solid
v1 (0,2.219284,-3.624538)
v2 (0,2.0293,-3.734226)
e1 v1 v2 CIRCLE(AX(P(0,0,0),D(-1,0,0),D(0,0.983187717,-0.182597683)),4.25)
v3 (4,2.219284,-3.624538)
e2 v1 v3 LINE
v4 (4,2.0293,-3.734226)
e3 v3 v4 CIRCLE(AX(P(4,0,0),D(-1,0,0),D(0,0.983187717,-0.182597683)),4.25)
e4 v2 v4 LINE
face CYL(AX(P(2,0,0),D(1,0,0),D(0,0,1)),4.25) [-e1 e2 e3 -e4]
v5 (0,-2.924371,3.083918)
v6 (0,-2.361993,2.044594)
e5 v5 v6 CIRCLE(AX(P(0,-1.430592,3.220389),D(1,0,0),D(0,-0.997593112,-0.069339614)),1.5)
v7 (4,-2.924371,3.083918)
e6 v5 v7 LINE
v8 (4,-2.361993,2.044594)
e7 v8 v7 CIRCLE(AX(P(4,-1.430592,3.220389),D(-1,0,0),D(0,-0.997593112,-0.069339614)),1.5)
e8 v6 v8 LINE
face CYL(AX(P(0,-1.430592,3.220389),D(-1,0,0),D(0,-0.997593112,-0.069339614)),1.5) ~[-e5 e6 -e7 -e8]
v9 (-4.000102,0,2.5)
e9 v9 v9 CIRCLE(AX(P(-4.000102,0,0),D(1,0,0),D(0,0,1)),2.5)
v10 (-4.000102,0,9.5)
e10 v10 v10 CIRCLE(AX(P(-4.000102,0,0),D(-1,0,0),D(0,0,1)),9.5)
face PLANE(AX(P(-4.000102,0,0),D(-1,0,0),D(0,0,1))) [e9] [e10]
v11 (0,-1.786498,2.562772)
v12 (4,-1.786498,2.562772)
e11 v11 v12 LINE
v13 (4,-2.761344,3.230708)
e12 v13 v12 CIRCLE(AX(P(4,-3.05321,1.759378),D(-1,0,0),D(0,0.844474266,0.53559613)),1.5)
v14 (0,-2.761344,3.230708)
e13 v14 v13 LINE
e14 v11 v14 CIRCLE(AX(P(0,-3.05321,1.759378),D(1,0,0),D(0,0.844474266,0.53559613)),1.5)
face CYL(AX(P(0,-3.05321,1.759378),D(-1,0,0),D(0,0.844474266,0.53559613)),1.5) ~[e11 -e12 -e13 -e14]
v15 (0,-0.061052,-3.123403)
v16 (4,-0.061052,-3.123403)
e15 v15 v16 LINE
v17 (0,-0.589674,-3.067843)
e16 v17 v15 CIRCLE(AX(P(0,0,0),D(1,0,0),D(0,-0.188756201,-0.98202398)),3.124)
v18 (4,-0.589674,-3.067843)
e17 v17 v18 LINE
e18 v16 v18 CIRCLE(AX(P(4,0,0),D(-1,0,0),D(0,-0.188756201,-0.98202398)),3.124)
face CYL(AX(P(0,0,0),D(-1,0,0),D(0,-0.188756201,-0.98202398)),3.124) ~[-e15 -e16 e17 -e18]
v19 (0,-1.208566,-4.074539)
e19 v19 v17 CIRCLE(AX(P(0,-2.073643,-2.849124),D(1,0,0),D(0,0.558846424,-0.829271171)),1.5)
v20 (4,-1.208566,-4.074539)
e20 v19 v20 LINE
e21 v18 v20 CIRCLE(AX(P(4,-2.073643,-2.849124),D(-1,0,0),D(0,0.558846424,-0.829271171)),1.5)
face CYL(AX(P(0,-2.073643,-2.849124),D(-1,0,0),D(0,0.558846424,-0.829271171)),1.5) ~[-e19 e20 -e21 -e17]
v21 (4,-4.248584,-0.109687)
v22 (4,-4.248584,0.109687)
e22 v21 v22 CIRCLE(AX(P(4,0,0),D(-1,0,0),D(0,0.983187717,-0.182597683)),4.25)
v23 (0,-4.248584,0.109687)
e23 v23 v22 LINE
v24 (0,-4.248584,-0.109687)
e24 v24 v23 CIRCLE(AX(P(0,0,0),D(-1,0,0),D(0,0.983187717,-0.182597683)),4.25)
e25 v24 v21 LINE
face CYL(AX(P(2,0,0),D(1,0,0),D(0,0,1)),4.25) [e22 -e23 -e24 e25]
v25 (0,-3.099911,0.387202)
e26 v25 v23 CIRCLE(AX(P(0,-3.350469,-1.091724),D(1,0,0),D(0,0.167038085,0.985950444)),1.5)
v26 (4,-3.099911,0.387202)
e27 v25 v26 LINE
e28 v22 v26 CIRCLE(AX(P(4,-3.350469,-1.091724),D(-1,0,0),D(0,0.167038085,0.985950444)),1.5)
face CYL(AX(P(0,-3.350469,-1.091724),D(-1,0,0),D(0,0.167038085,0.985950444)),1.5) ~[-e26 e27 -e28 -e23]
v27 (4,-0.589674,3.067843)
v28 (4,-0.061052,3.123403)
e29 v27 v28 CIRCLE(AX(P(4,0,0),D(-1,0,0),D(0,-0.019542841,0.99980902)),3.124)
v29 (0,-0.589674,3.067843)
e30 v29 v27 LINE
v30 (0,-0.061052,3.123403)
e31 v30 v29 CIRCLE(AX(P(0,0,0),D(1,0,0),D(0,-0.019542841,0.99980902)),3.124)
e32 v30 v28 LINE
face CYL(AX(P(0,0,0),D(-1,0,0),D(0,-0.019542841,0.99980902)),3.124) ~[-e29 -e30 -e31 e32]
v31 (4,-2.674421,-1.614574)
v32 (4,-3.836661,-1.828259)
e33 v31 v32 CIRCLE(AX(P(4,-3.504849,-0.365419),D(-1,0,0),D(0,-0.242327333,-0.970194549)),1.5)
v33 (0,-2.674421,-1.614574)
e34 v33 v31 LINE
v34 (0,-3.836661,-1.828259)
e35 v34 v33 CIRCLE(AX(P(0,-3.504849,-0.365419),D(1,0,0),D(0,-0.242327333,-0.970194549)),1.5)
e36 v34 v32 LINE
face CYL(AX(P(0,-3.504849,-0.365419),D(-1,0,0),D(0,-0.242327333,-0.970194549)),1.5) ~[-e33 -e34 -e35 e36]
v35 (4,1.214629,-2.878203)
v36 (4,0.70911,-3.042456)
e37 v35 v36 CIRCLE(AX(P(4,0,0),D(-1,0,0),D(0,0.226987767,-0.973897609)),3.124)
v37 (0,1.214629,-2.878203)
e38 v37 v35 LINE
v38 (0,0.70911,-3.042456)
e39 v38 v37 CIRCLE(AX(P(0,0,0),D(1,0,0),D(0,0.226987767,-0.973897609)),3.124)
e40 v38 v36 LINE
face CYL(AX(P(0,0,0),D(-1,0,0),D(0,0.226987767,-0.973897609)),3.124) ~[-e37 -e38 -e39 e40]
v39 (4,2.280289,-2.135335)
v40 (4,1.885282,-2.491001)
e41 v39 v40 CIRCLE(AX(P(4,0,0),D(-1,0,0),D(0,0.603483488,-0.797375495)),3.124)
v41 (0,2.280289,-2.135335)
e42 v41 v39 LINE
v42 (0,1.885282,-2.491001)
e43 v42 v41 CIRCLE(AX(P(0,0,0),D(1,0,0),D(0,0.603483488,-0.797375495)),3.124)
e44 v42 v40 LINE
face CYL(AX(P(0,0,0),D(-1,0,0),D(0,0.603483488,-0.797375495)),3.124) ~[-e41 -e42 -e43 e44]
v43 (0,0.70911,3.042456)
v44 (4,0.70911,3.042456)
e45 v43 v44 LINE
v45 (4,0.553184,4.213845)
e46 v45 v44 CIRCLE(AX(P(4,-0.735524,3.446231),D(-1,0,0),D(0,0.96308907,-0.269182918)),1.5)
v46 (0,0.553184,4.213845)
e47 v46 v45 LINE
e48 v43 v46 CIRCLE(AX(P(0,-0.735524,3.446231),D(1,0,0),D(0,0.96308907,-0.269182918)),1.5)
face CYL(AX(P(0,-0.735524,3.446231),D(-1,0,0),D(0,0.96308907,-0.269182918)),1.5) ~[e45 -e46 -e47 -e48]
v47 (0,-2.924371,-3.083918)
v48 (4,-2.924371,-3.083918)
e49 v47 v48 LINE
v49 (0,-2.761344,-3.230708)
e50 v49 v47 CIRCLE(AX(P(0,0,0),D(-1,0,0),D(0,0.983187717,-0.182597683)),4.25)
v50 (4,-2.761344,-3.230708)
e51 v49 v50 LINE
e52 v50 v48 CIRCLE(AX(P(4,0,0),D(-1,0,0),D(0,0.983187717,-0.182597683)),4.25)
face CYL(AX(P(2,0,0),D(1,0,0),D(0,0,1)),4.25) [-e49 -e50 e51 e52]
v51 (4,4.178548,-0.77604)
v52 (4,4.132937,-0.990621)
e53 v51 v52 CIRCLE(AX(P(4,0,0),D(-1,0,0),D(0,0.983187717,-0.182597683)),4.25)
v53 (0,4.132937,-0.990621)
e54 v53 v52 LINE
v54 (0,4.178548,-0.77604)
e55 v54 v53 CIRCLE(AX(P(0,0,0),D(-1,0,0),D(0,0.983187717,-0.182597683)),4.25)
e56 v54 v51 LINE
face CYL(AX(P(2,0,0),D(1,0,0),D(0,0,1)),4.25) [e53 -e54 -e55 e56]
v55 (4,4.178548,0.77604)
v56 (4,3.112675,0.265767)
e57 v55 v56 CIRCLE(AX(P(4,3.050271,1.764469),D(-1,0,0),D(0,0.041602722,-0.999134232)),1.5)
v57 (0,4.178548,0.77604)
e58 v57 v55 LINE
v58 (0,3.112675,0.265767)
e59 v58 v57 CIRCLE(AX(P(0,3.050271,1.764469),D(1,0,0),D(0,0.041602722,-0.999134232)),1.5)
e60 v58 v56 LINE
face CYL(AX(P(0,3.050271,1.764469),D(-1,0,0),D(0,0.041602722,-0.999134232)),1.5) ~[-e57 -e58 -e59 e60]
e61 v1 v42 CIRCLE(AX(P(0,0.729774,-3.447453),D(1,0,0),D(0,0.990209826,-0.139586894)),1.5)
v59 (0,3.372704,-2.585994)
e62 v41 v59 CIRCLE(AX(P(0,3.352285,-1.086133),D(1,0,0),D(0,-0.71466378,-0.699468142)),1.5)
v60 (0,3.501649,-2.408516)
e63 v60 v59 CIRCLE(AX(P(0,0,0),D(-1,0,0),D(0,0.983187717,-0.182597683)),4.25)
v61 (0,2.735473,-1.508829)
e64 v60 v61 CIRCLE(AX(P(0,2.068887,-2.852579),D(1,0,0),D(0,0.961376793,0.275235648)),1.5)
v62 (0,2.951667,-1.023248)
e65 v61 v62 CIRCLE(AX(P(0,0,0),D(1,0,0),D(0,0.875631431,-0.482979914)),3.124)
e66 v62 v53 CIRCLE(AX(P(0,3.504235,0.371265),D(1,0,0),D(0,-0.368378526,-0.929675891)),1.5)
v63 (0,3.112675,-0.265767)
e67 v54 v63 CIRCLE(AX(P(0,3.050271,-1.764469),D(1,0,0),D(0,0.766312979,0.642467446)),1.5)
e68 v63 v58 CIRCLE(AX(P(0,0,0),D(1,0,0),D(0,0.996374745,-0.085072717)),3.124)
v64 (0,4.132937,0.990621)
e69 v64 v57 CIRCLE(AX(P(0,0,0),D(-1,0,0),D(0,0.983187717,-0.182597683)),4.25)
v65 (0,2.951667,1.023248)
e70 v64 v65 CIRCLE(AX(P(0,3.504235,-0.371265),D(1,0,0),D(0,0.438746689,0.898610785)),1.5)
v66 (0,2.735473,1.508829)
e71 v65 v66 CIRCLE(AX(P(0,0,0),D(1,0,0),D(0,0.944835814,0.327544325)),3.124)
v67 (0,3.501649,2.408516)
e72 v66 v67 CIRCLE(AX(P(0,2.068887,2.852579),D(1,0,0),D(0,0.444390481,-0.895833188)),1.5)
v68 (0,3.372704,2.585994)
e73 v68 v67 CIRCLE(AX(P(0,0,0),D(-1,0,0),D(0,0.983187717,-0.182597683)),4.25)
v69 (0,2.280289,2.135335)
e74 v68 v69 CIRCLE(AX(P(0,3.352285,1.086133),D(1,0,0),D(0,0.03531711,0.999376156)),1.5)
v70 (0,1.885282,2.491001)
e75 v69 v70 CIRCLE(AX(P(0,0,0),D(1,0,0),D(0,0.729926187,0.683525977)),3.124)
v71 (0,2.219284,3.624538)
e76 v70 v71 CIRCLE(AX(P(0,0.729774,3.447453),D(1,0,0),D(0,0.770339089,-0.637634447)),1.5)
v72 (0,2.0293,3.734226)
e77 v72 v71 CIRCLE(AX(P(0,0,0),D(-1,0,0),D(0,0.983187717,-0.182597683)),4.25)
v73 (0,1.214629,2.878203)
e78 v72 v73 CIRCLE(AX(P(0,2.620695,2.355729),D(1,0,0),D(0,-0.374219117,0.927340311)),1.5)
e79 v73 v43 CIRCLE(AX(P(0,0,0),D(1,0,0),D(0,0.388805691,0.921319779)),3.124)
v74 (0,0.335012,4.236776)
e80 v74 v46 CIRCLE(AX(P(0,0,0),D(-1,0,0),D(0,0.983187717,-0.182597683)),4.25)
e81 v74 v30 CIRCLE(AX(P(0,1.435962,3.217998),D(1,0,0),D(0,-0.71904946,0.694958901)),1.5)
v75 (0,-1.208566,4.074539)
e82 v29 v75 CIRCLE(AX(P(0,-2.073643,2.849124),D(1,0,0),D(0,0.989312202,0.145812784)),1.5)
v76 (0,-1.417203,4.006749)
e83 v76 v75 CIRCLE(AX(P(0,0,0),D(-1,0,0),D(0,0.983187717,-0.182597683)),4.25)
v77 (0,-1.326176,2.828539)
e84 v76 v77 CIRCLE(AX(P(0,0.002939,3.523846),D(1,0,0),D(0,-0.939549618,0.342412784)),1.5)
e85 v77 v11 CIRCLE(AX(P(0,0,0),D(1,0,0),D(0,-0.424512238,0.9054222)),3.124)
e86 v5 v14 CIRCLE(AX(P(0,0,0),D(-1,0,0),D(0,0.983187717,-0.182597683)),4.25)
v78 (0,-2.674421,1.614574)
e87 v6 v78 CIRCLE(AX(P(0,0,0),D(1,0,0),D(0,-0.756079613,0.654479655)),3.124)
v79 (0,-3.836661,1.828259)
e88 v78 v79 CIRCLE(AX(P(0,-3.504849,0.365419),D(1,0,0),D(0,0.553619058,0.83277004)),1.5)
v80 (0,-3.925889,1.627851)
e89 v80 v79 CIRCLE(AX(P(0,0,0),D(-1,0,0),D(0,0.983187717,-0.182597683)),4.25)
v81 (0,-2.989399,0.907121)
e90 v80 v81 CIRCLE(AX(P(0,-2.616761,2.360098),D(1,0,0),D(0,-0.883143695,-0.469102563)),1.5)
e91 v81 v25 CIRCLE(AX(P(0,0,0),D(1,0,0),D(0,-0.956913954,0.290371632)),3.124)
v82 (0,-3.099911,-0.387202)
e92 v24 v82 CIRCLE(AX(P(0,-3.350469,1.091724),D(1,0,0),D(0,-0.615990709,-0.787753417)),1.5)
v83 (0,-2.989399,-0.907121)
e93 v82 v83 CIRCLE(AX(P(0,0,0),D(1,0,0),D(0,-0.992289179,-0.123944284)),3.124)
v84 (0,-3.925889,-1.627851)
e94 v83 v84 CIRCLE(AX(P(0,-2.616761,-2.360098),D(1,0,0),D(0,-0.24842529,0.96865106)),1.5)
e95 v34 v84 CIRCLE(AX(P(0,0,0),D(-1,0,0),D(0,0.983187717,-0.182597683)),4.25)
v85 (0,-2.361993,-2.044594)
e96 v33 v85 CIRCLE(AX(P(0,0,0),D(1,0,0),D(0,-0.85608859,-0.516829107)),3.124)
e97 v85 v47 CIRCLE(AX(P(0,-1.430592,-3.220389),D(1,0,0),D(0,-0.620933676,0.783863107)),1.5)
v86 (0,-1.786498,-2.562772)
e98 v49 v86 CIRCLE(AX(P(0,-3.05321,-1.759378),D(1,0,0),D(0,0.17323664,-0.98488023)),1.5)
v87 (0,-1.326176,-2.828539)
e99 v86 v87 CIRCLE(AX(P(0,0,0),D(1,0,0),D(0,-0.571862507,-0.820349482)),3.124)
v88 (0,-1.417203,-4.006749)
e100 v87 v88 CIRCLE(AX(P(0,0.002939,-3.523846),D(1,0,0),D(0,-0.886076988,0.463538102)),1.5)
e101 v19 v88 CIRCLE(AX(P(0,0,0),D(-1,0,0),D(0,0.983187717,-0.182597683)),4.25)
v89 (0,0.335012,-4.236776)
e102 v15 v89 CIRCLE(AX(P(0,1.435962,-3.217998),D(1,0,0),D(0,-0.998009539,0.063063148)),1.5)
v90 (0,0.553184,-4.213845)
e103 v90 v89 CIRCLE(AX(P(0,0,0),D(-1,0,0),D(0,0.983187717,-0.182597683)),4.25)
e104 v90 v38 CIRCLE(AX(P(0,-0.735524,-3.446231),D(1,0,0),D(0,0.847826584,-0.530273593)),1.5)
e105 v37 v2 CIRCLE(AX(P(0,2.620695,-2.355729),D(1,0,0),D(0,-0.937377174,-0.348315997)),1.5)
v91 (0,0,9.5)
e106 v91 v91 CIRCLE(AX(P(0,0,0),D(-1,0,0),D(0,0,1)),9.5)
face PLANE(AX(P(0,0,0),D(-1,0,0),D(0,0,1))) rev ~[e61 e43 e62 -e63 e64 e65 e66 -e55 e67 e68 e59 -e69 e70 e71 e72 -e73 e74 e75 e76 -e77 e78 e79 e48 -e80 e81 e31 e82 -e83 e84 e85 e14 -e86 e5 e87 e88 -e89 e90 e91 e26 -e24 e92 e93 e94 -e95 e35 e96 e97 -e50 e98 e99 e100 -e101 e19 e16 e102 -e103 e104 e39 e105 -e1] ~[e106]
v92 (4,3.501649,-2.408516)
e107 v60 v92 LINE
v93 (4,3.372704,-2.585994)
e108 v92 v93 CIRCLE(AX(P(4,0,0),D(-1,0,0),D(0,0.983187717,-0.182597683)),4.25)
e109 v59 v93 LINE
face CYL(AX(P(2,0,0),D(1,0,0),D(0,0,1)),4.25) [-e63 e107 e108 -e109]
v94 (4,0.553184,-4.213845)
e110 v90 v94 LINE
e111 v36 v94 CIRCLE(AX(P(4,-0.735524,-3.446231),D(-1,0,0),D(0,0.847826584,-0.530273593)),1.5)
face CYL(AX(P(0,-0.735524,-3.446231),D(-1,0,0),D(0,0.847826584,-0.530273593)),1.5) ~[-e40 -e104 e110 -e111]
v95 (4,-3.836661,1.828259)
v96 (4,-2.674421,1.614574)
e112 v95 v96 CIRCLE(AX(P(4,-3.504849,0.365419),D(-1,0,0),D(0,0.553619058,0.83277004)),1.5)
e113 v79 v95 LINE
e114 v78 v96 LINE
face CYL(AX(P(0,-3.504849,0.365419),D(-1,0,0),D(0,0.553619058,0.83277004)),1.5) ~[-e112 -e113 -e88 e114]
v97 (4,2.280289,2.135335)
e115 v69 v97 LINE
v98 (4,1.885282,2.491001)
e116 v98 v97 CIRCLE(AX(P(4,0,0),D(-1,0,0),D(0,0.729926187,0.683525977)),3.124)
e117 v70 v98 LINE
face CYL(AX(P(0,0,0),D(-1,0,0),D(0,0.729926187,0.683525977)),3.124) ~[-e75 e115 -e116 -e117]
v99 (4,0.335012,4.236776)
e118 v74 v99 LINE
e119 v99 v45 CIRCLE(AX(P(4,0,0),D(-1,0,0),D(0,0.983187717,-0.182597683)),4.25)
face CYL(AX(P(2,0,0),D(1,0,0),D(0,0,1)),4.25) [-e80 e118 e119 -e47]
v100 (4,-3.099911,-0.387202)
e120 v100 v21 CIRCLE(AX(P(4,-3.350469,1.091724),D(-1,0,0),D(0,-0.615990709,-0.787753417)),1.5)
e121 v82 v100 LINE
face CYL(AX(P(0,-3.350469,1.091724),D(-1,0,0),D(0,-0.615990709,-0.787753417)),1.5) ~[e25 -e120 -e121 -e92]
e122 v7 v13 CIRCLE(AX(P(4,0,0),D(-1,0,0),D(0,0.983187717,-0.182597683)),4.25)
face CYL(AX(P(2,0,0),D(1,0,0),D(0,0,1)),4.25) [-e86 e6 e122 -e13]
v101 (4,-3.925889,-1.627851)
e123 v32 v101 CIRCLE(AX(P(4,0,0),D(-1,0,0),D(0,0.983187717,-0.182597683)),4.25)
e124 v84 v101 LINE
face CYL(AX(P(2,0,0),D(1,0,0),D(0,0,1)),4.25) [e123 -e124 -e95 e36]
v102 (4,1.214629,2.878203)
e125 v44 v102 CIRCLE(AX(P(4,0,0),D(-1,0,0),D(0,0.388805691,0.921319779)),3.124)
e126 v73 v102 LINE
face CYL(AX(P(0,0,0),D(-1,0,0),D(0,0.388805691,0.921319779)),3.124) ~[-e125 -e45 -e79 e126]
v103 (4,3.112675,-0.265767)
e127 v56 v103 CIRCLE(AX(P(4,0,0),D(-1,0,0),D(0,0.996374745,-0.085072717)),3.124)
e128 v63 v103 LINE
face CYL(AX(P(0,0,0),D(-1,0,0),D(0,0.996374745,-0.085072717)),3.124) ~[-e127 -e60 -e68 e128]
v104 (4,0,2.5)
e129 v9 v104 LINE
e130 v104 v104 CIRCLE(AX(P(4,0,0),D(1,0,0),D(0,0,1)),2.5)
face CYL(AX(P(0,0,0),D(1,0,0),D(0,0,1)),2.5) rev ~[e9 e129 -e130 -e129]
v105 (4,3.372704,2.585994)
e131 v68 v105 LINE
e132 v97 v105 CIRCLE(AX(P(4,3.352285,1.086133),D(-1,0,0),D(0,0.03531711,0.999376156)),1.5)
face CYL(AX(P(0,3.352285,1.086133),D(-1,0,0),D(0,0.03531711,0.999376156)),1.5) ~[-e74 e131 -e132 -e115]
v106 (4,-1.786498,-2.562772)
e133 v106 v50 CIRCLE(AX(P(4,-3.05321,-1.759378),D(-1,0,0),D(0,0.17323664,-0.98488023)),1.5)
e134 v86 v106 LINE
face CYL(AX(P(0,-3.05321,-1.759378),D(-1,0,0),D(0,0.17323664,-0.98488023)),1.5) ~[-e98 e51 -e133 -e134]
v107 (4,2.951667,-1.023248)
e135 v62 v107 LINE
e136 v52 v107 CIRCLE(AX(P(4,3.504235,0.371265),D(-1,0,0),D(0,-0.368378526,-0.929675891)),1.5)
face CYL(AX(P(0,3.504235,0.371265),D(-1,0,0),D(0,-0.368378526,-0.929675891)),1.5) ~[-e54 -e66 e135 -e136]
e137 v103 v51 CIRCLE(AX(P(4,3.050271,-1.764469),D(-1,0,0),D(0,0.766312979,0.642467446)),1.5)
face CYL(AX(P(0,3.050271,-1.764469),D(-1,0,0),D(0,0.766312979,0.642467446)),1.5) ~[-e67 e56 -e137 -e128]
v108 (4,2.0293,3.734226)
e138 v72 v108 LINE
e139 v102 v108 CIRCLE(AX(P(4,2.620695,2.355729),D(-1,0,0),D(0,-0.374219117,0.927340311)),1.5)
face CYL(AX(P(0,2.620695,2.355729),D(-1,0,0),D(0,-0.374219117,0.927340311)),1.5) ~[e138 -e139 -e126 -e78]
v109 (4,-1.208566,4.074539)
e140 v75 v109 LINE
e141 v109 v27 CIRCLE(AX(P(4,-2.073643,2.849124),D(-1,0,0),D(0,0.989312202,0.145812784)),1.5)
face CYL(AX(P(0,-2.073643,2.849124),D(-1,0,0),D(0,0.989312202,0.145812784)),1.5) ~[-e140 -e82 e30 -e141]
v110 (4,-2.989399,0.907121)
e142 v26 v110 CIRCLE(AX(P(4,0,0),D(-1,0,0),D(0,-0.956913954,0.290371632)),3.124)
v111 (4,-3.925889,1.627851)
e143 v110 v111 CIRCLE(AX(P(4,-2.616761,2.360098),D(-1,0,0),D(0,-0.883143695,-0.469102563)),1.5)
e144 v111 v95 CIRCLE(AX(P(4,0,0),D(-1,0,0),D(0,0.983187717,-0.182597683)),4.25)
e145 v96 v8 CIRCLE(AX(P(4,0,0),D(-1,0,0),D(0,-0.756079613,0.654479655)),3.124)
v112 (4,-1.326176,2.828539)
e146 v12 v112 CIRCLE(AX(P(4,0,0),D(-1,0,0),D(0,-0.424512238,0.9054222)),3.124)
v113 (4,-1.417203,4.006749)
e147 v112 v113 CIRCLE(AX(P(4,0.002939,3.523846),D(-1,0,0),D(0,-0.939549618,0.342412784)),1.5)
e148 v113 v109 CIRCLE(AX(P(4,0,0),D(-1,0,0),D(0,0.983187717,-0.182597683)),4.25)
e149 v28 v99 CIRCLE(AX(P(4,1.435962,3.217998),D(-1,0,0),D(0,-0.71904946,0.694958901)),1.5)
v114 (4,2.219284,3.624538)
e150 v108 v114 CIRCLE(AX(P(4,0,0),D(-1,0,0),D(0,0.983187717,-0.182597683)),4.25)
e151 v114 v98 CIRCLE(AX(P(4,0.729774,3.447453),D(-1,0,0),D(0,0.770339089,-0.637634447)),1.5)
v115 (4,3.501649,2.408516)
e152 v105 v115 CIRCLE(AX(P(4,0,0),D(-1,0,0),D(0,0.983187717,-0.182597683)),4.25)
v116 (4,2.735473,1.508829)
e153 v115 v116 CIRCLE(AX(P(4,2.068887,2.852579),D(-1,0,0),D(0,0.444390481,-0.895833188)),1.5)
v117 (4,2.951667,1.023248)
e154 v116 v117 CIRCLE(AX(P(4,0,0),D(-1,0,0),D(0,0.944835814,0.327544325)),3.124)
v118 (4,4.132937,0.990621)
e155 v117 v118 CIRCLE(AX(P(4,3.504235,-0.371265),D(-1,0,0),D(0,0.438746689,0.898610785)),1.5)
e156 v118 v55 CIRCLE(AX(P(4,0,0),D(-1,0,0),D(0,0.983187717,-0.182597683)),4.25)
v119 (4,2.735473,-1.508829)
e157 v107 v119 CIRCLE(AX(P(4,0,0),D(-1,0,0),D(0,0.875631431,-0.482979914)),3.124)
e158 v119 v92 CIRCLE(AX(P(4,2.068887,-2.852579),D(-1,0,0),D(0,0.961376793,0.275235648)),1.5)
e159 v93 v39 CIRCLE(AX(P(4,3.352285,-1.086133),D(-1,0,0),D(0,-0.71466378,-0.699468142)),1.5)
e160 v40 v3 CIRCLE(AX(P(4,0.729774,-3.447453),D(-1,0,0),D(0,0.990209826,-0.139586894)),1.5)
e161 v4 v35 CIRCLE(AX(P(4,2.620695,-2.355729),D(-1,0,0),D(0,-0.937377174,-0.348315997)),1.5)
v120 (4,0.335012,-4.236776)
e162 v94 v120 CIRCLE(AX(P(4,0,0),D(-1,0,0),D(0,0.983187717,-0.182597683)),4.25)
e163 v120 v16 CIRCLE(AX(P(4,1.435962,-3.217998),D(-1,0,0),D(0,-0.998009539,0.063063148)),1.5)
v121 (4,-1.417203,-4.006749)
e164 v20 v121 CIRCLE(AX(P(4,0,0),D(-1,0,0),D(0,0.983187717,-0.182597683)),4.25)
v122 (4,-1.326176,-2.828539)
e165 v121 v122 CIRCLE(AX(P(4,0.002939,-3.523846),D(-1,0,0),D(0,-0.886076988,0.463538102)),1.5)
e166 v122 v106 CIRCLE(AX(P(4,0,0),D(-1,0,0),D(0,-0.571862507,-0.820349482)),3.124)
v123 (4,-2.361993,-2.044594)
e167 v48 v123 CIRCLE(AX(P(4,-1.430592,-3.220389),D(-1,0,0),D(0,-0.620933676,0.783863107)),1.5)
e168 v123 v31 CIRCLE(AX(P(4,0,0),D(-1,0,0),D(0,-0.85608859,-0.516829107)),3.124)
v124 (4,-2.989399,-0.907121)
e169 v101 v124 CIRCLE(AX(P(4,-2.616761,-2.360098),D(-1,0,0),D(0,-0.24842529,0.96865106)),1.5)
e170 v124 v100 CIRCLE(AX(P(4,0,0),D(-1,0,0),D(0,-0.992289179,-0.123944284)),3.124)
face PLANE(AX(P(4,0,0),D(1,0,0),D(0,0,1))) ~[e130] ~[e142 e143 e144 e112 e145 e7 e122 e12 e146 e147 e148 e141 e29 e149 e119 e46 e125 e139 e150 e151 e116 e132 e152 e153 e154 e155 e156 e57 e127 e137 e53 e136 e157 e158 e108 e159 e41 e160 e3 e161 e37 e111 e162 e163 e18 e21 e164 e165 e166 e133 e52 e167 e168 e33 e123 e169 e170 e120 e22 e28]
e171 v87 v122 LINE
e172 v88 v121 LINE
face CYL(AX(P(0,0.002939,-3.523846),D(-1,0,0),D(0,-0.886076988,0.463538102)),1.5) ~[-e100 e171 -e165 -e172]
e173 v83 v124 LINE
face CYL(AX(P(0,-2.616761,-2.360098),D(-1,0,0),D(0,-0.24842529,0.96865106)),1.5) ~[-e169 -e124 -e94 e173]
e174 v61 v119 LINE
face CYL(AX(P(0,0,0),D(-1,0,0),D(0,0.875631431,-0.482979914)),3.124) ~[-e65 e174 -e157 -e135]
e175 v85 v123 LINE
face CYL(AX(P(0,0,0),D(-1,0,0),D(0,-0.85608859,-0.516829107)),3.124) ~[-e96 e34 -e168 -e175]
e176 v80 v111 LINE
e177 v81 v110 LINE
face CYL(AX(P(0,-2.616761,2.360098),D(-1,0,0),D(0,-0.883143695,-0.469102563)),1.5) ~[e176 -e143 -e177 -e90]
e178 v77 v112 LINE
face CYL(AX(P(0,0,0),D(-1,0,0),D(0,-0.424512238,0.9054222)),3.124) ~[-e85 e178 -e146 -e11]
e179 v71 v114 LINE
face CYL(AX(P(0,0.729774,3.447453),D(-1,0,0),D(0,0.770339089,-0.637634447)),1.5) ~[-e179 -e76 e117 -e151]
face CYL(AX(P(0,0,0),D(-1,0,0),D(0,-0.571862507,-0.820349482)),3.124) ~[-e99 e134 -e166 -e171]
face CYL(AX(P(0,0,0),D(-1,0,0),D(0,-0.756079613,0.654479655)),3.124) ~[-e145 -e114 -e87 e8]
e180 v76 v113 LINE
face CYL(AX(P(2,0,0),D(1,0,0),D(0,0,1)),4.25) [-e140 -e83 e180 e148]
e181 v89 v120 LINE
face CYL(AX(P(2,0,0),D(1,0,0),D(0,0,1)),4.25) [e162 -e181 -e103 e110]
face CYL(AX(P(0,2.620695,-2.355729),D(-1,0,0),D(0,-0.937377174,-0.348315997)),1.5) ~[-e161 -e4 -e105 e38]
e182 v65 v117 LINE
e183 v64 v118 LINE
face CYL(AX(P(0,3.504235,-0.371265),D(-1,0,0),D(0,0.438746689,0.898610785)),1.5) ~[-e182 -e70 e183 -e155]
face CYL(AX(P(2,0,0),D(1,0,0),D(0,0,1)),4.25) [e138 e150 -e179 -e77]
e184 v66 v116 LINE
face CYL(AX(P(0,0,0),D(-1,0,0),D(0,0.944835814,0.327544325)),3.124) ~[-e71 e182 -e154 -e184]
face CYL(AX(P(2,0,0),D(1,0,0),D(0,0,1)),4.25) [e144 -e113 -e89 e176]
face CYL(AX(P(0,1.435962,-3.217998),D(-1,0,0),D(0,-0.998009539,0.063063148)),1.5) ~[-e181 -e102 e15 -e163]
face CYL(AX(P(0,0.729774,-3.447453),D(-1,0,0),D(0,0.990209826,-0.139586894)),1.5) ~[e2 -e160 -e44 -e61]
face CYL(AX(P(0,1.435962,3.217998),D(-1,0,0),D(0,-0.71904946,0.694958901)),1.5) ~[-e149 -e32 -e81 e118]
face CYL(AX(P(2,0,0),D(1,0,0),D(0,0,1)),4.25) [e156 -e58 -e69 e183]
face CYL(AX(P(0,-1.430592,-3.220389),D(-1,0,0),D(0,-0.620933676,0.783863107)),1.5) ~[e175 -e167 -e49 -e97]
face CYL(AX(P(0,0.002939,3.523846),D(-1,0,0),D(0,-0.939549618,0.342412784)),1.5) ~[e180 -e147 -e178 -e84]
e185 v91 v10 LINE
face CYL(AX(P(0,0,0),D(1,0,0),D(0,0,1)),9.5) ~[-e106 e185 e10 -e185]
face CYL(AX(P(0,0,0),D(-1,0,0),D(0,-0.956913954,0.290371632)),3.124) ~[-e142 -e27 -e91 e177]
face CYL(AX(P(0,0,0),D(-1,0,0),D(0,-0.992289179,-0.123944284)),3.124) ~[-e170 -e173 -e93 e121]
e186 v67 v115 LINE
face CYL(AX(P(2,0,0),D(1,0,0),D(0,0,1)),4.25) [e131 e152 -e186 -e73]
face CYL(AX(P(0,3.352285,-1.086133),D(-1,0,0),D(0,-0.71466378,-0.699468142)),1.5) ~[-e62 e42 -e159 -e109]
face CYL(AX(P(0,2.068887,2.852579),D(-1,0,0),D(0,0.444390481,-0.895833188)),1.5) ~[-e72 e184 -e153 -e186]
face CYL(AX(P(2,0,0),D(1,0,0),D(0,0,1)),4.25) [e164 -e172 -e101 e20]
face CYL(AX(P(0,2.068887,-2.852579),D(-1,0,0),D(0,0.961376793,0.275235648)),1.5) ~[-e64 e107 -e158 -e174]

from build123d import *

# Parameters (mm, degrees)
BASPROSKE_W      = 4
BASPROSKE_H      = 4.25
TOOTHCUT_DEPTH   = 8.219764539
TEETHCUTS_COUNT  = 15
TEETHCUTS_ANGLE  = 336
HUBNEAONESKE_R   = 9.5
HUBNEARONE_DEPTH = 4.0001016
BORSKE_R         = 2.5
BORE_DEPTH       = 8.0001016


with BuildPart() as part:
    # BasProSke → Base-Revolve (revolve)
    with BuildSketch(Plane(origin=(0, 0, 0), x_dir=(1, 0, 0), z_dir=(0, 1, 0)), mode=Mode.PRIVATE) as base_revolve_sk:
        with Locations((2, 2.125)):
            Rectangle(BASPROSKE_W, BASPROSKE_H)
    revolve(base_revolve_sk.sketch.rotate(Axis((-10, 0, 0), (1, 0, 0)), 180), axis=Axis((-10, 0, 0), (1, 0, 0)))

    # TooCutSke → ToothCut (cut, through all)
    with BuildSketch(Plane(origin=(0, 0, 0), x_dir=(0, 0, -1), z_dir=(1, 0, 0))):
        with BuildLine():
            ThreePointArc((0.265767165, 3.112674704), (0, 3.124), (-0.265767165, 3.112674704))
            ThreePointArc((-0.265767165, 3.112674704), (-0.418628877, 3.712626775), (-0.800767345, 4.19974009))
            ThreePointArc((-0.800767345, 4.19974009), (0, 4.2754), (0.800767345, 4.19974009))
            ThreePointArc((0.800767345, 4.19974009), (0.418628877, 3.712626775), (0.265767165, 3.112674704))
        make_face()
    toothcut = extrude(amount=TOOTHCUT_DEPTH, mode=Mode.SUBTRACT)

    # TeethCuts: ToothCut ×15 about axis
    teethcuts_axis = Axis((-10, 0, 0), (1, 0, 0))
    for i in range(1, TEETHCUTS_COUNT):
        add(toothcut.rotate(teethcuts_axis, i * TEETHCUTS_ANGLE / (TEETHCUTS_COUNT - 1)), mode=Mode.SUBTRACT)

    # HubNeaOneSke → HubNearOne (add)
    with BuildSketch(Plane.ZY):
        Circle(HUBNEAONESKE_R)
    extrude(amount=HUBNEARONE_DEPTH)

    # BorSke → Bore (cut, symmetric)
    with BuildSketch(Plane(origin=(0, 0, 0), x_dir=(0, 0, -1), z_dir=(1, 0, 0))):
        with Locations(Location((0, 0, 0), (0, 0, 180))):
            Circle(BORSKE_R)
    extrude(amount=BORE_DEPTH, both=True, mode=Mode.SUBTRACT)


solid = part.part
